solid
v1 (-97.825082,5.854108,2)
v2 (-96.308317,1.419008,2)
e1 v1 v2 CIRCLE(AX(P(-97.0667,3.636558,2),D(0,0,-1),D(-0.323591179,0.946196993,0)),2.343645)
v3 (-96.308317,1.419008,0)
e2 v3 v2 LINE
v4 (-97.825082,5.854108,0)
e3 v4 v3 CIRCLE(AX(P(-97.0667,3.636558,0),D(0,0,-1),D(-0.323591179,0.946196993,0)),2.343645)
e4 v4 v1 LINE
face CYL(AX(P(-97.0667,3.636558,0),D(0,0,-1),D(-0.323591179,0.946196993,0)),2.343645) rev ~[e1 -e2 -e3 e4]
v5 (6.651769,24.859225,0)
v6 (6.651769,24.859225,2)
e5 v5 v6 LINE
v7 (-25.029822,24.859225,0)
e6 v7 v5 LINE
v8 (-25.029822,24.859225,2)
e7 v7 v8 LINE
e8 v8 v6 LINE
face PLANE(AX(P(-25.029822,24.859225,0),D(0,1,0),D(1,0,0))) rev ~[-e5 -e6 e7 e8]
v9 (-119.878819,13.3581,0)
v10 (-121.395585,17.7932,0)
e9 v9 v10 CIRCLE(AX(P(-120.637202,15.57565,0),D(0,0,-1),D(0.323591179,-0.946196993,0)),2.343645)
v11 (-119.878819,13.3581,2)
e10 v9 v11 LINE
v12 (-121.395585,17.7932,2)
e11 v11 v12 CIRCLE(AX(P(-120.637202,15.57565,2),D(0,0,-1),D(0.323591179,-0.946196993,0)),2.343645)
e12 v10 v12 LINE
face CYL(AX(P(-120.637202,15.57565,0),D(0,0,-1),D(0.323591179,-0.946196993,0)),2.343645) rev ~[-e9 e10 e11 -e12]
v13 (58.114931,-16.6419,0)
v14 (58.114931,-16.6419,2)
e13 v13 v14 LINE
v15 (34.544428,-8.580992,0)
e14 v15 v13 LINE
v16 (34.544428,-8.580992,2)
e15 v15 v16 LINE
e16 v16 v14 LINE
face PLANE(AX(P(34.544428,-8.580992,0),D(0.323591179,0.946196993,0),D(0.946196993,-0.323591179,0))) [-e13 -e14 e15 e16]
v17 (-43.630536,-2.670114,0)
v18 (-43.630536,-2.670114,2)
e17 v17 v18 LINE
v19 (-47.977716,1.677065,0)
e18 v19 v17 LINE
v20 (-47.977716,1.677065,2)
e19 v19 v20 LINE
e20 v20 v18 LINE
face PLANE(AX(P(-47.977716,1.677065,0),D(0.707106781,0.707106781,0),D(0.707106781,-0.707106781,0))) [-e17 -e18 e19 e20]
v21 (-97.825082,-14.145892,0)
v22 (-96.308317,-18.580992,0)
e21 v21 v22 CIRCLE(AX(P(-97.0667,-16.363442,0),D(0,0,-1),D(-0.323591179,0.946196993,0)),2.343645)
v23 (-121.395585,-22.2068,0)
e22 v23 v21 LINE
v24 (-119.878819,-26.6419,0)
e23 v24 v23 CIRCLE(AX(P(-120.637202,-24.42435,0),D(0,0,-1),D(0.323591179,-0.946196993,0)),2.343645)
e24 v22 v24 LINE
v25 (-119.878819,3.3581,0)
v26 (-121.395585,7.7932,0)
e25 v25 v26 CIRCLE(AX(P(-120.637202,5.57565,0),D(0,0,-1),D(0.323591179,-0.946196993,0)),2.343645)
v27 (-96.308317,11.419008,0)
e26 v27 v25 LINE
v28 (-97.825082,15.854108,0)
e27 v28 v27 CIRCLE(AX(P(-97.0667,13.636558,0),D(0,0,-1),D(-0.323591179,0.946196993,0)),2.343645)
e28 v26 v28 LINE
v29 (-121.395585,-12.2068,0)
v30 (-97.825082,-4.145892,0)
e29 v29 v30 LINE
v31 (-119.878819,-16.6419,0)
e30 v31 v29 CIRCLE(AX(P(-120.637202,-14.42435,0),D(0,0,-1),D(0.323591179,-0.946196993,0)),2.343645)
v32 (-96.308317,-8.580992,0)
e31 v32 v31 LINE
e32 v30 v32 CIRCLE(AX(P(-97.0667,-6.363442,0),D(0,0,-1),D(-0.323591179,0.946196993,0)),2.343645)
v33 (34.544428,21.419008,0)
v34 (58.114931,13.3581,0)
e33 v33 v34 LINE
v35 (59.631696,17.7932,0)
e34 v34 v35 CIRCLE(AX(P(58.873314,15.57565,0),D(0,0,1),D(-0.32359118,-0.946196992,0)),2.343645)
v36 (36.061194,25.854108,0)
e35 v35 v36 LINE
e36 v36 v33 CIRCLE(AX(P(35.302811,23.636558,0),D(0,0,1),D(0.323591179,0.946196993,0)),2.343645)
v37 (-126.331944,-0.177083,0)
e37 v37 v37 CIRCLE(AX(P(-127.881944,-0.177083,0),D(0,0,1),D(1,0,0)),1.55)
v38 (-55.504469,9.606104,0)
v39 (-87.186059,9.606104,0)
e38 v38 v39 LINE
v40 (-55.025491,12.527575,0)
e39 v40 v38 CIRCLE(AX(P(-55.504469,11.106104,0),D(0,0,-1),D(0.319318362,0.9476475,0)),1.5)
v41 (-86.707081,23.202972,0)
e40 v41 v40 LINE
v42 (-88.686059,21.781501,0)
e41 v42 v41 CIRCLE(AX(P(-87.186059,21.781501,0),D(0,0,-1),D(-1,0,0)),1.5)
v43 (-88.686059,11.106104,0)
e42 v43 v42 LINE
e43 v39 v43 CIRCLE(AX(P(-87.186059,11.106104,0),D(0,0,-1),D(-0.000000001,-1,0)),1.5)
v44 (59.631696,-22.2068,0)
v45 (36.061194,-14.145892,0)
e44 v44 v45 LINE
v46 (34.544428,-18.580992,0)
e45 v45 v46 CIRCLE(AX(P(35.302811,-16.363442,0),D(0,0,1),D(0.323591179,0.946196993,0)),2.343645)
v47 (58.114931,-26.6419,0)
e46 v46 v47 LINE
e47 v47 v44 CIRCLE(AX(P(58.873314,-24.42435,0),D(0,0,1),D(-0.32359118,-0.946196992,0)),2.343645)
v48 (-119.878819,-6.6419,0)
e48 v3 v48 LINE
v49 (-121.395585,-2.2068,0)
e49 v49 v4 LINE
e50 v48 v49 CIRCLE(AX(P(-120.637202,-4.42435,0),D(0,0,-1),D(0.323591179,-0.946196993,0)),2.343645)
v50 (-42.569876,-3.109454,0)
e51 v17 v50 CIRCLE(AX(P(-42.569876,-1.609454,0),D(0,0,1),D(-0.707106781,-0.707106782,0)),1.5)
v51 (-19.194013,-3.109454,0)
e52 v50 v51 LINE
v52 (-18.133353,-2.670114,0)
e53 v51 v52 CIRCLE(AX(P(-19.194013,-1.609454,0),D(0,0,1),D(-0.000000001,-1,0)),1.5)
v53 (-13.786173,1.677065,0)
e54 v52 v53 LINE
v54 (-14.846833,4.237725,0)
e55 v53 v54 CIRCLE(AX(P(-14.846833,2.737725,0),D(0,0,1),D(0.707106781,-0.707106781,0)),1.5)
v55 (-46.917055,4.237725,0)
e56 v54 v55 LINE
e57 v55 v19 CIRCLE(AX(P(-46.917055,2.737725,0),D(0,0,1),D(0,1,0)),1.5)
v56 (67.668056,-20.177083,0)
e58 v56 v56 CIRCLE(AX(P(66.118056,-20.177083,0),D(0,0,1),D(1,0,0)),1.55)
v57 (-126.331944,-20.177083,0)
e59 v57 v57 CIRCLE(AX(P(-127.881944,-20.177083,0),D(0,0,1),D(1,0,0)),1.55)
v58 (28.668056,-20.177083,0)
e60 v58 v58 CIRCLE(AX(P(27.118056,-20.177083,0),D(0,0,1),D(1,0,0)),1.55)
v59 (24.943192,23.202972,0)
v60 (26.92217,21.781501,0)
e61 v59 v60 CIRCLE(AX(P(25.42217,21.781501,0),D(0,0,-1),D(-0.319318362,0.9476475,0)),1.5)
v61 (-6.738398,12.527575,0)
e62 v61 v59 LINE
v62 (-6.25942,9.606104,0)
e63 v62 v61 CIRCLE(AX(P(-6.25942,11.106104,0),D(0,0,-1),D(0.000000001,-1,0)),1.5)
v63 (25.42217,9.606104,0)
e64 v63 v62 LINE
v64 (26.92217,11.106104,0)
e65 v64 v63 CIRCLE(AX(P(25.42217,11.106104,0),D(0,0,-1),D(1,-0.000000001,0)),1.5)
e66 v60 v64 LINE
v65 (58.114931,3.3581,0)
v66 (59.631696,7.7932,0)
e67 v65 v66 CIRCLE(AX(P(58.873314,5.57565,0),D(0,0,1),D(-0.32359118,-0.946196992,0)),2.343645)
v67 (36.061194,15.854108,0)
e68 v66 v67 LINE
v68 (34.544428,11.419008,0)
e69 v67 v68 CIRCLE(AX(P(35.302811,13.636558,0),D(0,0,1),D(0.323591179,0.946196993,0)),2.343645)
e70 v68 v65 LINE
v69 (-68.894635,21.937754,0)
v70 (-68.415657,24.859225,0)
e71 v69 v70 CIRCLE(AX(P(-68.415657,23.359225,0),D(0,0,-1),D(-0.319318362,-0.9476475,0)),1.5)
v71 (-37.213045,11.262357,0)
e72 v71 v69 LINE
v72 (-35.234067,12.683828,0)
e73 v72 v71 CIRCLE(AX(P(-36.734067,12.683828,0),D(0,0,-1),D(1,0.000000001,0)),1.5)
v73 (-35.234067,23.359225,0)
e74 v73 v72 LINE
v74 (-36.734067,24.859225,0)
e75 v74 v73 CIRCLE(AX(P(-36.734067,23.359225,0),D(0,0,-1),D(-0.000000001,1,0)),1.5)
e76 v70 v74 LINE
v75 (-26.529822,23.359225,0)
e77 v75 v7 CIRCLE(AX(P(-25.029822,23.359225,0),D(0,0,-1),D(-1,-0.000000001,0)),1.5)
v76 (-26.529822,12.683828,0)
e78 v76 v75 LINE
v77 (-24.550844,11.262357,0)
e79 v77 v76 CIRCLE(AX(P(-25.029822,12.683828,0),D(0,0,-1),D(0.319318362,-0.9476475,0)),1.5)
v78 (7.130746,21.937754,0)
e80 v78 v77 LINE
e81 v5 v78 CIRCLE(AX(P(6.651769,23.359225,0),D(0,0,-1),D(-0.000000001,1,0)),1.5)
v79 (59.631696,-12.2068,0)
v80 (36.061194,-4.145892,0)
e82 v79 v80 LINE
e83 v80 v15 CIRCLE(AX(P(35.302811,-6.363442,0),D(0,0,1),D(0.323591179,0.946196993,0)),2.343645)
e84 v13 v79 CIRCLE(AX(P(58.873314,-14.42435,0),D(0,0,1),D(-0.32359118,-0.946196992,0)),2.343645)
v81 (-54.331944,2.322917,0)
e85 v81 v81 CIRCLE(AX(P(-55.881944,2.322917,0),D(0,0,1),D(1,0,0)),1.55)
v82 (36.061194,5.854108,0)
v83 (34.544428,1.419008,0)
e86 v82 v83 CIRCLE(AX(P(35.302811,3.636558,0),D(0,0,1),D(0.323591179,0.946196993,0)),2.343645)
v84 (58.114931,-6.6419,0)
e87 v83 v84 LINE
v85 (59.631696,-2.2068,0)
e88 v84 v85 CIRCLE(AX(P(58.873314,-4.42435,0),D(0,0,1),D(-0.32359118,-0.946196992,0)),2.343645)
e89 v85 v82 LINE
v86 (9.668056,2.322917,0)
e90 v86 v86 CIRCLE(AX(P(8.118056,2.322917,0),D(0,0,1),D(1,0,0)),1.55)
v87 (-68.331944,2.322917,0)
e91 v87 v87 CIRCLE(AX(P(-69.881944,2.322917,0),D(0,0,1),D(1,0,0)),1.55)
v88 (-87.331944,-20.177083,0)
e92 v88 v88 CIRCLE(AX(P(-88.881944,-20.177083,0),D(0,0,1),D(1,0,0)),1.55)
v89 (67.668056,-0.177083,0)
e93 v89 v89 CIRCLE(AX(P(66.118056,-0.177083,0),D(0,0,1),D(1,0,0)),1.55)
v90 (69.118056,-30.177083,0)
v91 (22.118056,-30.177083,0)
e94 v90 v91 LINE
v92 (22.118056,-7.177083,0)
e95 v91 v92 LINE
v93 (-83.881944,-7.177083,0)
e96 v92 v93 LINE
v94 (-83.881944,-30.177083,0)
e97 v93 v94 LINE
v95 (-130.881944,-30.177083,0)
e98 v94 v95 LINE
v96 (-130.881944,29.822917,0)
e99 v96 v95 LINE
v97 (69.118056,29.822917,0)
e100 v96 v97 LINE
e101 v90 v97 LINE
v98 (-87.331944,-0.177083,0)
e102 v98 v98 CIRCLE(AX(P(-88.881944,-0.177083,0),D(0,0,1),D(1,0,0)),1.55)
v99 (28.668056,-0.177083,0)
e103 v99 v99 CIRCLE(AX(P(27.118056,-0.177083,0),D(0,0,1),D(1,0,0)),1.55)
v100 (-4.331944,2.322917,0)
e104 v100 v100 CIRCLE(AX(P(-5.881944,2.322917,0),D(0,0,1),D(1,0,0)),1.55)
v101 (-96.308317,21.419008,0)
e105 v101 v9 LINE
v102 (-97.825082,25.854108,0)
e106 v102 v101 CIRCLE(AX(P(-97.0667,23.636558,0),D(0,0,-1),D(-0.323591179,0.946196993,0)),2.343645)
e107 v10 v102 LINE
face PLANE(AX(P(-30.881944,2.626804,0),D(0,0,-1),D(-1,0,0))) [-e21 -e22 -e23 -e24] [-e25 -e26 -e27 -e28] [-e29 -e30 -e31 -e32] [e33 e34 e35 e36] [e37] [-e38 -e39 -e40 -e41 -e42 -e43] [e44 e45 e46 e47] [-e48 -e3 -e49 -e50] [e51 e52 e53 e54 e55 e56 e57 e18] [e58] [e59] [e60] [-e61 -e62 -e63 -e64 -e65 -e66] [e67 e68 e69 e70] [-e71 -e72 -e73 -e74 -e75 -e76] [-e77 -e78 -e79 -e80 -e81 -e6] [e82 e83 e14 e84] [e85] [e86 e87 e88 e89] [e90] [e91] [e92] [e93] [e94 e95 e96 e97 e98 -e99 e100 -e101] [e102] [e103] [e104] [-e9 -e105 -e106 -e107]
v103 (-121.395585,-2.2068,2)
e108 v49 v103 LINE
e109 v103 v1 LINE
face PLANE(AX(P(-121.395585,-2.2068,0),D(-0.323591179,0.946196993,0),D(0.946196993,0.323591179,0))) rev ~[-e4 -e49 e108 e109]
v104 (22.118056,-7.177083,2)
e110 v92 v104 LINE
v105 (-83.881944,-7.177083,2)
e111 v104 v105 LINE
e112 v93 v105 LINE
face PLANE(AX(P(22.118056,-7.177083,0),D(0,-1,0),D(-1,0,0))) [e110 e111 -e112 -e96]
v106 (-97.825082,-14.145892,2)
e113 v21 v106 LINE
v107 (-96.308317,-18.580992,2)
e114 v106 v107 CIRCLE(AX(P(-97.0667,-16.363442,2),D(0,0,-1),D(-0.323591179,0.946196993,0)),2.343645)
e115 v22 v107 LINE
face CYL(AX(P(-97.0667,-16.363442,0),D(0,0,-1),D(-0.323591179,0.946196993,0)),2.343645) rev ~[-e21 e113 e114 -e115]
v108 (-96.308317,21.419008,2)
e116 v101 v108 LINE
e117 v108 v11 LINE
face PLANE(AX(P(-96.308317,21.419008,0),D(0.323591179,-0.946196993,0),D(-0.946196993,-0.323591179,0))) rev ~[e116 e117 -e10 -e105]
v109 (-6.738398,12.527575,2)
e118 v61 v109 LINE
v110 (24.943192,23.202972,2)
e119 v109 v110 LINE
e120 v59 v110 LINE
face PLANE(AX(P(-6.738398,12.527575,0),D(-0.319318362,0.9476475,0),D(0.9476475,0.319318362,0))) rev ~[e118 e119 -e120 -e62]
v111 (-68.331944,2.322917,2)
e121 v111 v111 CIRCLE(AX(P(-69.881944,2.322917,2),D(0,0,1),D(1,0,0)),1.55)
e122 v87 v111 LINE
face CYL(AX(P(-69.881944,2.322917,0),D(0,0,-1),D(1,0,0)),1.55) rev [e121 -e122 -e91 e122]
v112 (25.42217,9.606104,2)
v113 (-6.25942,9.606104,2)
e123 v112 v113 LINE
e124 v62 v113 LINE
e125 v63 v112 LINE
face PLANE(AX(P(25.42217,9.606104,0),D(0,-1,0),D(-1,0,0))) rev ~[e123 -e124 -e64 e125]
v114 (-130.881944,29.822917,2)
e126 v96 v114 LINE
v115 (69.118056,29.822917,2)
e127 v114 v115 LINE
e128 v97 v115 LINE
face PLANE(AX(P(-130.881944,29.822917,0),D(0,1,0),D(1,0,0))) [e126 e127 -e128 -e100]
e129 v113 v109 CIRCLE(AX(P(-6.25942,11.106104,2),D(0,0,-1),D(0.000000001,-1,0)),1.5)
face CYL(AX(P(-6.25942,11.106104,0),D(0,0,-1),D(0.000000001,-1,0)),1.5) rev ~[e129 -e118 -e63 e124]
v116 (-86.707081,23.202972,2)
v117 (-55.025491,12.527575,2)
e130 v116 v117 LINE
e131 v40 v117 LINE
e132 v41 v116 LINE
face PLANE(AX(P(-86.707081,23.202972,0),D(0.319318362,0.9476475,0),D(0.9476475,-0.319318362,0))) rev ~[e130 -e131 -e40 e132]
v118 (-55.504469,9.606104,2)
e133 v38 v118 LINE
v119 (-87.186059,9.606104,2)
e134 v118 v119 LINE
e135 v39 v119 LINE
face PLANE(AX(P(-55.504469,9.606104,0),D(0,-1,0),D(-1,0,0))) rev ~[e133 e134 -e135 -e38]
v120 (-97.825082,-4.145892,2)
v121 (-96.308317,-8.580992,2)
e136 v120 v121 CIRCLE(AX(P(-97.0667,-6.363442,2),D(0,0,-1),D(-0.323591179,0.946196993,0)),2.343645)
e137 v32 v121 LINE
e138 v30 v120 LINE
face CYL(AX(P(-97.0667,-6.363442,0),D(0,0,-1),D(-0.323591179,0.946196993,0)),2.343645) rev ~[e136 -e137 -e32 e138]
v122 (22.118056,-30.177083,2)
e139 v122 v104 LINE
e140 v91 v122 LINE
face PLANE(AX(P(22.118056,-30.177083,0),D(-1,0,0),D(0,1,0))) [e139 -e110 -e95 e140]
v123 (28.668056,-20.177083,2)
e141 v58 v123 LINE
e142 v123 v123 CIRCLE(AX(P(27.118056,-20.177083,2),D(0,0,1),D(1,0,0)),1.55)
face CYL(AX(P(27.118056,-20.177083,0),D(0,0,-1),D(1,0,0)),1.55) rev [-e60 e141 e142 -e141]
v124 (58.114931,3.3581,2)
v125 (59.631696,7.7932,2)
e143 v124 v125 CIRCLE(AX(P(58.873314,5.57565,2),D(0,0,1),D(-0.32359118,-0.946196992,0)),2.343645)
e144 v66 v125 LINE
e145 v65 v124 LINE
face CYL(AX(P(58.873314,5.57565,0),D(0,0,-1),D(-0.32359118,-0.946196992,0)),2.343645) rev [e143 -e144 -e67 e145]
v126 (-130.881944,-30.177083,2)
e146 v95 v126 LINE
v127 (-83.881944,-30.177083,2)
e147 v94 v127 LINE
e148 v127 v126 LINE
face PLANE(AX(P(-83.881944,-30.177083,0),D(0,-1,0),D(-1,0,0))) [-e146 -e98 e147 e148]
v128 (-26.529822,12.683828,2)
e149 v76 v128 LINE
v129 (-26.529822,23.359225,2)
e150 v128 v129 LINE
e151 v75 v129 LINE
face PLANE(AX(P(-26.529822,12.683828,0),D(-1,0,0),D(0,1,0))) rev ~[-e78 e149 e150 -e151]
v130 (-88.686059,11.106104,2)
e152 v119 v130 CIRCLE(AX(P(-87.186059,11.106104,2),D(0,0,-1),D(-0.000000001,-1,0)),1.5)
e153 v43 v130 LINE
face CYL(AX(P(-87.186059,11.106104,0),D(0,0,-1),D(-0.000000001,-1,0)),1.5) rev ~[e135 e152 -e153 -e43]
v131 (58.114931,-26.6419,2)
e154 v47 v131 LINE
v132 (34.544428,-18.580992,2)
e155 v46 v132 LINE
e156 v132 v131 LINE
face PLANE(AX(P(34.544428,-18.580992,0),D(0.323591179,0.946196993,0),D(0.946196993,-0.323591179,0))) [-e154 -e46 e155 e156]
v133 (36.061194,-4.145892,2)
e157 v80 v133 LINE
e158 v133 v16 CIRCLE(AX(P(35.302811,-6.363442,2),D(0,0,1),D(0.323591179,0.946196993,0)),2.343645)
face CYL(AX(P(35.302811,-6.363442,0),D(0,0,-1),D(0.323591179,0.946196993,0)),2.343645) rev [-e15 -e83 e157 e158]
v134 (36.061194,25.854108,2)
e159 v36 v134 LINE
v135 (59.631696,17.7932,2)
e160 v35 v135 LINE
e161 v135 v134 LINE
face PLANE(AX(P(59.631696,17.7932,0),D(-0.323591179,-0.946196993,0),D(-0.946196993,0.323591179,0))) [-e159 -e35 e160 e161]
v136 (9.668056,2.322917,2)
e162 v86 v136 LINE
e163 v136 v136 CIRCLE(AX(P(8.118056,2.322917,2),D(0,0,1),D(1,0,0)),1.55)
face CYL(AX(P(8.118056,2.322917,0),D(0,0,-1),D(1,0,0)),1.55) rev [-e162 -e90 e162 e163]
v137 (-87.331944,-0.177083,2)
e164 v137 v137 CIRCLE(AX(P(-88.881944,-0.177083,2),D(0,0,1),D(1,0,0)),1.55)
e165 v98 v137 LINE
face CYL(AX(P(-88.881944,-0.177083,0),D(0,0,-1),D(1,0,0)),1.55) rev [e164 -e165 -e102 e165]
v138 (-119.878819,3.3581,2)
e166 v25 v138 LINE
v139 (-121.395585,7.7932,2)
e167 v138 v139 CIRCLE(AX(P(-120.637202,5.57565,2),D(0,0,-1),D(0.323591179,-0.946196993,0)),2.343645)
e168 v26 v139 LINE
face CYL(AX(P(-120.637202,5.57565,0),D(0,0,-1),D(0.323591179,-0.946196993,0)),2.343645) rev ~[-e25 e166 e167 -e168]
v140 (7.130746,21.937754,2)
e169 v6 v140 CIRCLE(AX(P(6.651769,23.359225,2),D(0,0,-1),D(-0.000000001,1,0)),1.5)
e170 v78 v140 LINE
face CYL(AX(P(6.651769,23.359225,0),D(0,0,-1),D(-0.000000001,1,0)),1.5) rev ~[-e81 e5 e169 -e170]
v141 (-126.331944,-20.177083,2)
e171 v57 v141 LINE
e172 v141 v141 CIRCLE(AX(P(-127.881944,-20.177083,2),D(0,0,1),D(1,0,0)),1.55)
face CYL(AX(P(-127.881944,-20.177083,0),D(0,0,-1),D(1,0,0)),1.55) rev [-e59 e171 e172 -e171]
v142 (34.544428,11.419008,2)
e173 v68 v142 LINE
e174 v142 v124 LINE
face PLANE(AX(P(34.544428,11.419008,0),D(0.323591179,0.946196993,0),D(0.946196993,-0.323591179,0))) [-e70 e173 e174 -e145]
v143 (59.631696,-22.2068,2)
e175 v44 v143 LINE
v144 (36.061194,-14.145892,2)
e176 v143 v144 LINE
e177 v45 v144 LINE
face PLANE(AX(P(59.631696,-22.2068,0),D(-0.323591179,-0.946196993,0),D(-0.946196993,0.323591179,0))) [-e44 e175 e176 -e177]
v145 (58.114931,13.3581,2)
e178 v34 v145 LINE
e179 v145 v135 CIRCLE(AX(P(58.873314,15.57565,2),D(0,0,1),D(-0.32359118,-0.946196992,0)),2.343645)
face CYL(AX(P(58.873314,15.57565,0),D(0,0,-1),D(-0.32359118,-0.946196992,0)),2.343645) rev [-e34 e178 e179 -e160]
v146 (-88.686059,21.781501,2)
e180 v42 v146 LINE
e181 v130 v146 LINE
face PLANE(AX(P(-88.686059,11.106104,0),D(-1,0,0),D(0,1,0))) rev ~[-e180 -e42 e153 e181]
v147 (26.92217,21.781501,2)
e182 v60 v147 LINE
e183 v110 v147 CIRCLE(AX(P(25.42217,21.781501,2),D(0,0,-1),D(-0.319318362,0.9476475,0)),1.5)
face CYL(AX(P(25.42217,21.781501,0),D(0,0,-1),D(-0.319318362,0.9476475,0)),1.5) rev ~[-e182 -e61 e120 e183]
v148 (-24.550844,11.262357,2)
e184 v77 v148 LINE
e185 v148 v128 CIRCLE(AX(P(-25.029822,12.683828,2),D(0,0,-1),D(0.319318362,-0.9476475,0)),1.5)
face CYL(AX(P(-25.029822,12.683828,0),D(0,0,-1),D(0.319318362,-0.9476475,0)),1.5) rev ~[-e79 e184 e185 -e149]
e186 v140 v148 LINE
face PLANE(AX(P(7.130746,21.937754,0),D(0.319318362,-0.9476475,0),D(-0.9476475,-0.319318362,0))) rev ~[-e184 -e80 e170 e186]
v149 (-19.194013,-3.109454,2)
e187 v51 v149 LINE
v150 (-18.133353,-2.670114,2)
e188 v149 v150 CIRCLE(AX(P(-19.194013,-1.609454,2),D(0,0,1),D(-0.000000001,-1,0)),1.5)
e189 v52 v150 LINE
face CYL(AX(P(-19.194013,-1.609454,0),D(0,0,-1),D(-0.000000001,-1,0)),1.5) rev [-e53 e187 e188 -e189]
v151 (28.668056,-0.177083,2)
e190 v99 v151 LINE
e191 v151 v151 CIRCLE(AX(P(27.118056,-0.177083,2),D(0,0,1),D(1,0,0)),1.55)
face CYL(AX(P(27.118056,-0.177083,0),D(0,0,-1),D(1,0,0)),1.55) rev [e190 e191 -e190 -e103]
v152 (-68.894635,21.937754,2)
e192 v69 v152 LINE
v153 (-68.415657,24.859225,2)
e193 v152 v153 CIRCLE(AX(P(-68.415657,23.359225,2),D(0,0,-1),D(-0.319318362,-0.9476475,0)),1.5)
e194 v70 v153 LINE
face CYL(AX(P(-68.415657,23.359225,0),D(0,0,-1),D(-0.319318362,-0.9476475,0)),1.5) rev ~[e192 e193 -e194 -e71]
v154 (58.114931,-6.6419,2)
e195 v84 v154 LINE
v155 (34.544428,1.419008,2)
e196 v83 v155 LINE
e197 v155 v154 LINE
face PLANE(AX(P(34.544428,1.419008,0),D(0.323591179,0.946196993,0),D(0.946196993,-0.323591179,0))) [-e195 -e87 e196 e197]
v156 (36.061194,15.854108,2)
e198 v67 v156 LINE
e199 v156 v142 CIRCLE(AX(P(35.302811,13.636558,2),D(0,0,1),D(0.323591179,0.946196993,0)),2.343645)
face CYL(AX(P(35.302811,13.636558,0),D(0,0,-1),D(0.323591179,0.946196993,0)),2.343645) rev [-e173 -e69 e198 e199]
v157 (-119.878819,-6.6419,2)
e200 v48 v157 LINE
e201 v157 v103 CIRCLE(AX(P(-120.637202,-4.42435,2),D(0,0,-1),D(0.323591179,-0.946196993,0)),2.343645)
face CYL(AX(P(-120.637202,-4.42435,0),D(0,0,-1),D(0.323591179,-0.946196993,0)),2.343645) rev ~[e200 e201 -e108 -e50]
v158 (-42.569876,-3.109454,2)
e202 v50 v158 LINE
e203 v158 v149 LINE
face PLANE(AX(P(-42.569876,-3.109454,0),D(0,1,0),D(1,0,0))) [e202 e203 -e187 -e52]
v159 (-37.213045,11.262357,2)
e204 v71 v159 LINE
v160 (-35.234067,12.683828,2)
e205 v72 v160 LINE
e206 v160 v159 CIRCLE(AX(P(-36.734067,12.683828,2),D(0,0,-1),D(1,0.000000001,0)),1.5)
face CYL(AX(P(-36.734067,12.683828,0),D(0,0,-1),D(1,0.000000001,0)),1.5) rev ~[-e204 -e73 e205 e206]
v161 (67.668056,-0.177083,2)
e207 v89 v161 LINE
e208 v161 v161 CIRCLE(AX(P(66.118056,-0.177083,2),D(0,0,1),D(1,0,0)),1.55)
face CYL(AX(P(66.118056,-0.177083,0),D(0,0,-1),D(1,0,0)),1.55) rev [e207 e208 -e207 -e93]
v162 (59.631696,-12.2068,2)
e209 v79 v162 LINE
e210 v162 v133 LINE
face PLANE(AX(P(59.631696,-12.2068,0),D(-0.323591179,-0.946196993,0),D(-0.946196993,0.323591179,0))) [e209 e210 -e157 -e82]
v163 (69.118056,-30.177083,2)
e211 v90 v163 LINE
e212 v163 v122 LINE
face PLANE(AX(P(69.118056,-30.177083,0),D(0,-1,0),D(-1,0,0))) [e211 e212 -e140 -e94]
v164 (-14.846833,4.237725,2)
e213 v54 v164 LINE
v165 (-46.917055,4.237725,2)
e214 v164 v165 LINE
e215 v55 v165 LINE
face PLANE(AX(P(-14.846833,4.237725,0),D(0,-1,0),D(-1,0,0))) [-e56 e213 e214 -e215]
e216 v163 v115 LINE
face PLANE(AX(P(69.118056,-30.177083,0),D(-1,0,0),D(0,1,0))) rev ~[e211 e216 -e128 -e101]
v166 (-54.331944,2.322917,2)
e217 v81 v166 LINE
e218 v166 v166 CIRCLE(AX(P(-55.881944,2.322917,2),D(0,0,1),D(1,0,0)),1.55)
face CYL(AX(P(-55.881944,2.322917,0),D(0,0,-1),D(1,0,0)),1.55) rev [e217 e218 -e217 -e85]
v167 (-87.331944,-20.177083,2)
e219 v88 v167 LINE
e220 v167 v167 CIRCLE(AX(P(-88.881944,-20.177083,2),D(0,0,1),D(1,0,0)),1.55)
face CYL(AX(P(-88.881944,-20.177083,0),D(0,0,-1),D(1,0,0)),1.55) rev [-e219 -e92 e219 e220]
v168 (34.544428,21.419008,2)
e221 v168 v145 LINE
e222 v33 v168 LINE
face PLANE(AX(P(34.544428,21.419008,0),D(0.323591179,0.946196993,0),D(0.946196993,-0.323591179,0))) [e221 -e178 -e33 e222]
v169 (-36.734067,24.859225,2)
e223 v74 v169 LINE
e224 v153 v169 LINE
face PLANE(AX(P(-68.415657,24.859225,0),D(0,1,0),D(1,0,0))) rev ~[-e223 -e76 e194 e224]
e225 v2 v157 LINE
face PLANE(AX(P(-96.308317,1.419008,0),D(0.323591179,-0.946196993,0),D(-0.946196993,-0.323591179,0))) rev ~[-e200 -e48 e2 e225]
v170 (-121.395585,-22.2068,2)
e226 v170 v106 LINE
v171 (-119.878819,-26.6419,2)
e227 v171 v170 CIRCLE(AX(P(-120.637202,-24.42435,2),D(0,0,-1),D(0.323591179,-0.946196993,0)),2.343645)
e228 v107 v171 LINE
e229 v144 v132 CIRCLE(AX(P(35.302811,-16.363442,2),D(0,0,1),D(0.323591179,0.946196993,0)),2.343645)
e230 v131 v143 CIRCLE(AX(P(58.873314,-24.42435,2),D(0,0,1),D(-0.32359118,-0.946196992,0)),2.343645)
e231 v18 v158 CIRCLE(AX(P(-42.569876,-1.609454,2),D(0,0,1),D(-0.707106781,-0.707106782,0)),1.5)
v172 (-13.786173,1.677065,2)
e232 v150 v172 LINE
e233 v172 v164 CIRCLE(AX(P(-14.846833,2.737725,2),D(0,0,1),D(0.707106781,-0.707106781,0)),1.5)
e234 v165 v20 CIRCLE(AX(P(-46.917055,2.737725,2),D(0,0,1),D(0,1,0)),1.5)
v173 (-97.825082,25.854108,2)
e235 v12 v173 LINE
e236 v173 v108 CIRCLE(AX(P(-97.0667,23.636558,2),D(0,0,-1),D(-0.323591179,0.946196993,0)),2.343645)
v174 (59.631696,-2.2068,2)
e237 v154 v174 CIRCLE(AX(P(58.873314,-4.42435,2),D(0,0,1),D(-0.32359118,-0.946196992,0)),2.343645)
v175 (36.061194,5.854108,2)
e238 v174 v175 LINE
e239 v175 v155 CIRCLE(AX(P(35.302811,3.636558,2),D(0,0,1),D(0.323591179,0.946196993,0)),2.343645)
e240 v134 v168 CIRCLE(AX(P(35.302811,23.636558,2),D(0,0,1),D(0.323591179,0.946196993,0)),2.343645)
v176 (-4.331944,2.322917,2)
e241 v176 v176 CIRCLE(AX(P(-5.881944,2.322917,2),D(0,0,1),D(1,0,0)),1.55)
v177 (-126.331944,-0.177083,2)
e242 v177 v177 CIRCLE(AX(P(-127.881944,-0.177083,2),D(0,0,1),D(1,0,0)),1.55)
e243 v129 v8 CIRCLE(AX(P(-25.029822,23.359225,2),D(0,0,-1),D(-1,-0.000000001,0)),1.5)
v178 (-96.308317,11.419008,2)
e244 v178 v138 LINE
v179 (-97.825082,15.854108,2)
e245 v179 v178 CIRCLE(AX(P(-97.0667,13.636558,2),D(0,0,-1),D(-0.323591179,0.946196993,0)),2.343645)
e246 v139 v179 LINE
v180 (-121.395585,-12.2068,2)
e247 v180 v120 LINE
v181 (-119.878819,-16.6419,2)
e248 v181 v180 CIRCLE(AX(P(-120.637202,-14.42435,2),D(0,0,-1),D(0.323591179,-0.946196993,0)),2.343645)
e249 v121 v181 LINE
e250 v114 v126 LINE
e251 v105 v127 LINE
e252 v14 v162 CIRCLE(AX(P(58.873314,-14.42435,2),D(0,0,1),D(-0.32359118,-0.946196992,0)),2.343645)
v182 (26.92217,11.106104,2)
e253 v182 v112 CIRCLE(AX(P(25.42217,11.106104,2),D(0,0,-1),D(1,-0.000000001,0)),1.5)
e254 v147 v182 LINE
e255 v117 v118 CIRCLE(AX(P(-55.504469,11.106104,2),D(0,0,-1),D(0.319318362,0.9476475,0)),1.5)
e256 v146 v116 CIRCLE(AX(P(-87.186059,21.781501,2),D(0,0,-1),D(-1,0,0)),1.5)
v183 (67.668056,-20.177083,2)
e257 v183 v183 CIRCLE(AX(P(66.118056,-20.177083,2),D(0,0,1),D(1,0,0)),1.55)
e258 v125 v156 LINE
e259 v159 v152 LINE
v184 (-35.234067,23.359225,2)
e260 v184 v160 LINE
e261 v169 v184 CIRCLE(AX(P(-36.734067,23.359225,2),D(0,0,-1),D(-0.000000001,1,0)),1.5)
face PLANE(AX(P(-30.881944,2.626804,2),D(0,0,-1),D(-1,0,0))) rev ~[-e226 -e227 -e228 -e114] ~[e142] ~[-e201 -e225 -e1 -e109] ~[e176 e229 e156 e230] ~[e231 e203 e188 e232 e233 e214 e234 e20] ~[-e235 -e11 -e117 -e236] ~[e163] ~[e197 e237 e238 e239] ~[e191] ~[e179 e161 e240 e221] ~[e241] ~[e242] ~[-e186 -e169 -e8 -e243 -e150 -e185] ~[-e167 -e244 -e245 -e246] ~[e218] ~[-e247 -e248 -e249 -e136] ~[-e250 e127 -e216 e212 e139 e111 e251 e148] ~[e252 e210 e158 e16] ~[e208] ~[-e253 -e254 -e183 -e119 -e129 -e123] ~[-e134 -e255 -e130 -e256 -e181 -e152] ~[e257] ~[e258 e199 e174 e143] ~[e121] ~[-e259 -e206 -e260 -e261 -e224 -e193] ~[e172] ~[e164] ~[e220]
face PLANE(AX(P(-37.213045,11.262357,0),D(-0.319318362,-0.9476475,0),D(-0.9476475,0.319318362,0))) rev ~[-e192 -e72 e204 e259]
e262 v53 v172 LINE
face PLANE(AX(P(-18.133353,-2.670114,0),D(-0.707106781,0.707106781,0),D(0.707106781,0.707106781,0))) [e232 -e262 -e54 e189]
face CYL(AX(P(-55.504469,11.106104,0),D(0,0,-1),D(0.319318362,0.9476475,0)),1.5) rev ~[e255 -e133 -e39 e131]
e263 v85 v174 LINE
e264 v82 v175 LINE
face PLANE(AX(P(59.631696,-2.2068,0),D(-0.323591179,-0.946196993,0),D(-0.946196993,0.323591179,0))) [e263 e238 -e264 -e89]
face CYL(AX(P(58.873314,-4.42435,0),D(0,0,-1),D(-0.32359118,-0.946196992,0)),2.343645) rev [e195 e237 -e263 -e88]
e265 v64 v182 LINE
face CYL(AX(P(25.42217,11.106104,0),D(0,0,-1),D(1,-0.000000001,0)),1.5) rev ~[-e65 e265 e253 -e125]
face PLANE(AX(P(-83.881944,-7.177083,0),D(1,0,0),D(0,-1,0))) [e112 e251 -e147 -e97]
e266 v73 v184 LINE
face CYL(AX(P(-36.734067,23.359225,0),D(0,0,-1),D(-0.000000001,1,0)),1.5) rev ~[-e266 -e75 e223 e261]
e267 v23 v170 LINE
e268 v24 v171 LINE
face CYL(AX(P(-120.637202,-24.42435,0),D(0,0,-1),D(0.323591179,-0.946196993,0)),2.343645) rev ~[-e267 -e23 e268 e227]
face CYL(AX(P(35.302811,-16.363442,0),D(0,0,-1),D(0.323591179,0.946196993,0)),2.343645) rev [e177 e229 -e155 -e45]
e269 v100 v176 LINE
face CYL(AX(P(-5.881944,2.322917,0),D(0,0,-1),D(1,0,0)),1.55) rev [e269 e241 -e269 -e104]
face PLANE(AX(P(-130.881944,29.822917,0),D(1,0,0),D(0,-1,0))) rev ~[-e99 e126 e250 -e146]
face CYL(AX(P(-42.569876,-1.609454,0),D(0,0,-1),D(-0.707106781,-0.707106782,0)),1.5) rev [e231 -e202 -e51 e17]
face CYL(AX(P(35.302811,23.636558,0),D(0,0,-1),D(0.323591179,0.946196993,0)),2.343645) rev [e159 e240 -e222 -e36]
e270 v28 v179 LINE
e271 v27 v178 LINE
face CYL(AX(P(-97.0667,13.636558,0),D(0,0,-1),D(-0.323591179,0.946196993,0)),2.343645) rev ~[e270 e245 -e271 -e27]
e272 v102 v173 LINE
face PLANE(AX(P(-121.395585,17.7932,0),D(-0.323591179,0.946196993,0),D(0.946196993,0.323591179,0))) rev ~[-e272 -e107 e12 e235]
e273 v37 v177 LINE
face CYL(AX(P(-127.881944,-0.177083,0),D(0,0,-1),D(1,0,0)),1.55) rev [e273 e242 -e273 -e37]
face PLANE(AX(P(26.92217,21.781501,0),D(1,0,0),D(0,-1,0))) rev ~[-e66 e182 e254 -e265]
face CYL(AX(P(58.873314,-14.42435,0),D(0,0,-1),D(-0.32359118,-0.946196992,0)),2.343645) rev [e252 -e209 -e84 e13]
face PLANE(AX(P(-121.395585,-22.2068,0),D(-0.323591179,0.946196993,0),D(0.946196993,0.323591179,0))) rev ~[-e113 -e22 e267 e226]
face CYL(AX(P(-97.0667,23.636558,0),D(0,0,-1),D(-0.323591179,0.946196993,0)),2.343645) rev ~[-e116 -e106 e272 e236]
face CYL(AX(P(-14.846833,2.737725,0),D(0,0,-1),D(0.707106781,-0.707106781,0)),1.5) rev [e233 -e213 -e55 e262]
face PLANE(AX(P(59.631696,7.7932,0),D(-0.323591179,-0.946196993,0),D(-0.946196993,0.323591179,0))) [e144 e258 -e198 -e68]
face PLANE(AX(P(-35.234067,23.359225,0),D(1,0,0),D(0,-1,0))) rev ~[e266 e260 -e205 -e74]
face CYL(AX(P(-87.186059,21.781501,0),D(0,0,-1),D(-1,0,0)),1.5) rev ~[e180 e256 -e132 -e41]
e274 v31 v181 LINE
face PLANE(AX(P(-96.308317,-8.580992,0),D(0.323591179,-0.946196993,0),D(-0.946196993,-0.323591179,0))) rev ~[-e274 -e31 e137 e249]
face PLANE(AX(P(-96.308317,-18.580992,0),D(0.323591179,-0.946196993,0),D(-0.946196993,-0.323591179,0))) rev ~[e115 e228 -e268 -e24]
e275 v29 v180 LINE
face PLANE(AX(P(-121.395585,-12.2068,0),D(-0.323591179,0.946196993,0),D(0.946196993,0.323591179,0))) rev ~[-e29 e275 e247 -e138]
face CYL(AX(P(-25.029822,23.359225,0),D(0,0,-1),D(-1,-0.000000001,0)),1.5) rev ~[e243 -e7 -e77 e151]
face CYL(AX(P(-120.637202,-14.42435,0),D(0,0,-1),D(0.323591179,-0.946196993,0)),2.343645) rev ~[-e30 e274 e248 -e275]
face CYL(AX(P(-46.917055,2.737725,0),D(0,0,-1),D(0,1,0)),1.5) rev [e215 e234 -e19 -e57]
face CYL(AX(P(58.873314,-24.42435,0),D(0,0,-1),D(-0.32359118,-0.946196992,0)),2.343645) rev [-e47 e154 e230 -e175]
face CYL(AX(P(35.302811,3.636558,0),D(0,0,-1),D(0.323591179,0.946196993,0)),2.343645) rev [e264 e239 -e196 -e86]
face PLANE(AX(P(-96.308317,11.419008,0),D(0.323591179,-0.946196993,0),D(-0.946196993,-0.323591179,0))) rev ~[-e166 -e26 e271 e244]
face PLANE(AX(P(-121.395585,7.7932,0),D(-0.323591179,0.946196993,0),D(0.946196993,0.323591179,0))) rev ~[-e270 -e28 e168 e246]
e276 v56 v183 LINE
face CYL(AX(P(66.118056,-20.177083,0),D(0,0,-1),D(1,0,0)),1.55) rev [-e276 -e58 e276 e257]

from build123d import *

# Parameters (mm, degrees)
SKETCH_1_R      = 1.55
EXTRUDE_1_DEPTH = 2


with BuildPart() as part:
    # 草图1 → 凸台-拉伸1 (new body)
    with BuildSketch(Plane.XY):
        Polygon((69.118055556, 5.822916667), (69.118055556, -30.177083333), (22.118055556, -30.177083333), (22.118055556, -7.177083333), (-83.881944444, -7.177083333), (-83.881944444, -30.177083333), (-130.881944444, -30.177083333), (-130.881944444, 5.822916667), (-130.881944444, 29.822916667), (69.118055556, 29.822916667), align=None)
        with Locations((-127.881944444, -0.177083333)):
            Circle(SKETCH_1_R, mode=Mode.SUBTRACT)
        with Locations((-127.881944444, -20.177083333)):
            Circle(SKETCH_1_R, mode=Mode.SUBTRACT)
        with Locations((-88.881944444, -0.177083333)):
            Circle(SKETCH_1_R, mode=Mode.SUBTRACT)
        with Locations((-88.881944444, -20.177083333)):
            Circle(SKETCH_1_R, mode=Mode.SUBTRACT)
        with Locations((27.118055556, -0.177083333)):
            Circle(SKETCH_1_R, mode=Mode.SUBTRACT)
        with Locations((27.118055556, -20.177083333)):
            Circle(SKETCH_1_R, mode=Mode.SUBTRACT)
        with Locations((66.118055556, -0.177083333)):
            Circle(SKETCH_1_R, mode=Mode.SUBTRACT)
        with Locations((66.118055556, -20.177083333)):
            Circle(SKETCH_1_R, mode=Mode.SUBTRACT)
        with Locations((-69.881944444, 2.322916667)):
            Circle(SKETCH_1_R, mode=Mode.SUBTRACT)
        with Locations((-55.881944444, 2.322916667)):
            Circle(SKETCH_1_R, mode=Mode.SUBTRACT)
        with Locations((-5.881944444, 2.322916667)):
            Circle(SKETCH_1_R, mode=Mode.SUBTRACT)
        with Locations((8.118055556, 2.322916667)):
            Circle(SKETCH_1_R, mode=Mode.SUBTRACT)
        with BuildLine():
            Line((-96.308316621, 21.419007892), (-119.878819488, 13.358099985))
            ThreePointArc((-119.878819488, 13.358099985), (-122.854752457, 14.817267118), (-121.395585324, 17.793200088))
            Line((-121.395585324, 17.793200088), (-97.825082457, 25.854107995))
            ThreePointArc((-97.825082457, 25.854107995), (-94.849149487, 24.394940861), (-96.308316621, 21.419007892))
        make_face(mode=Mode.SUBTRACT)
        with BuildLine():
            Line((-96.308316621, 11.419007892), (-119.878819488, 3.358099985))
            ThreePointArc((-119.878819488, 3.358099985), (-122.854752457, 4.817267118), (-121.395585324, 7.793200088))
            Line((-121.395585324, 7.793200088), (-97.825082457, 15.854107995))
            ThreePointArc((-97.825082457, 15.854107995), (-94.849149487, 14.394940861), (-96.308316621, 11.419007892))
        make_face(mode=Mode.SUBTRACT)
        with BuildLine():
            Line((-96.308316621, 1.419007892), (-119.878819488, -6.641900015))
            ThreePointArc((-119.878819488, -6.641900015), (-122.854752457, -5.182732882), (-121.395585324, -2.206799912))
            Line((-121.395585324, -2.206799912), (-97.825082457, 5.854107995))
            ThreePointArc((-97.825082457, 5.854107995), (-94.849149487, 4.394940861), (-96.308316621, 1.419007892))
        make_face(mode=Mode.SUBTRACT)
        with BuildLine():
            Line((-96.308316621, -8.580992108), (-119.878819488, -16.641900015))
            ThreePointArc((-119.878819488, -16.641900015), (-122.854752457, -15.182732882), (-121.395585324, -12.206799912))
            Line((-121.395585324, -12.206799912), (-97.825082457, -4.145892005))
            ThreePointArc((-97.825082457, -4.145892005), (-94.849149487, -5.605059139), (-96.308316621, -8.580992108))
        make_face(mode=Mode.SUBTRACT)
        with BuildLine():
            Line((-96.308316621, -18.580992108), (-119.878819488, -26.641900015))
            ThreePointArc((-119.878819488, -26.641900015), (-122.854752457, -25.182732882), (-121.395585324, -22.206799912))
            Line((-121.395585324, -22.206799912), (-97.825082457, -14.145892005))
            ThreePointArc((-97.825082457, -14.145892005), (-94.849149487, -15.605059139), (-96.308316621, -18.580992108))
        make_face(mode=Mode.SUBTRACT)
        with BuildLine():
            Line((34.544427732, -18.580992108), (58.114930599, -26.641900015))
            ThreePointArc((58.114930599, -26.641900015), (61.090863569, -25.182732882), (59.631696435, -22.206799912))
            Line((59.631696435, -22.206799912), (36.061193568, -14.145892005))
            ThreePointArc((36.061193568, -14.145892005), (33.085260599, -15.605059139), (34.544427732, -18.580992108))
        make_face(mode=Mode.SUBTRACT)
        with BuildLine():
            Line((34.544427732, -8.580992108), (58.114930599, -16.641900015))
            ThreePointArc((58.114930599, -16.641900015), (61.090863569, -15.182732882), (59.631696435, -12.206799912))
            Line((59.631696435, -12.206799912), (36.061193568, -4.145892005))
            ThreePointArc((36.061193568, -4.145892005), (33.085260599, -5.605059139), (34.544427732, -8.580992108))
        make_face(mode=Mode.SUBTRACT)
        with BuildLine():
            Line((34.544427732, 1.419007892), (58.114930599, -6.641900015))
            ThreePointArc((58.114930599, -6.641900015), (61.090863569, -5.182732882), (59.631696435, -2.206799912))
            Line((59.631696435, -2.206799912), (36.061193568, 5.854107995))
            ThreePointArc((36.061193568, 5.854107995), (33.085260599, 4.394940861), (34.544427732, 1.419007892))
        make_face(mode=Mode.SUBTRACT)
        with BuildLine():
            Line((34.544427732, 11.419007892), (58.114930599, 3.358099985))
            ThreePointArc((58.114930599, 3.358099985), (61.090863569, 4.817267118), (59.631696435, 7.793200088))
            Line((59.631696435, 7.793200088), (36.061193568, 15.854107995))
            ThreePointArc((36.061193568, 15.854107995), (33.085260599, 14.394940861), (34.544427732, 11.419007892))
        make_face(mode=Mode.SUBTRACT)
        with BuildLine():
            Line((34.544427732, 21.419007892), (58.114930599, 13.358099985))
            ThreePointArc((58.114930599, 13.358099985), (61.090863569, 14.817267118), (59.631696435, 17.793200088))
            Line((59.631696435, 17.793200088), (36.061193568, 25.854107995))
            ThreePointArc((36.061193568, 25.854107995), (33.085260599, 24.394940861), (34.544427732, 21.419007892))
        make_face(mode=Mode.SUBTRACT)
        with BuildLine():
            Line((-86.707081272, 23.202972479), (-55.025491003, 12.527575239))
            ThreePointArc((-55.025491003, 12.527575239), (-54.024230917, 10.863417849), (-55.504468546, 9.60610399))
            Line((-55.504468546, 9.60610399), (-87.186058815, 9.60610399))
            ThreePointArc((-87.186058815, 9.60610399), (-88.246718986, 10.045443818), (-88.686058815, 11.10610399))
            Line((-88.686058815, 11.10610399), (-88.686058815, 21.781501229))
            ThreePointArc((-88.686058815, 21.781501229), (-88.061139864, 22.99979231), (-86.707081272, 23.202972479))
        make_face(mode=Mode.SUBTRACT)
        with BuildLine():
            Line((-68.415657461, 24.859225404), (-36.734067193, 24.859225404))
            ThreePointArc((-36.734067193, 24.859225404), (-35.673407021, 24.419885576), (-35.234067193, 23.359225404))
            Line((-35.234067193, 23.359225404), (-35.234067193, 12.683828165))
            ThreePointArc((-35.234067193, 12.683828165), (-35.858986143, 11.465537084), (-37.213044735, 11.262356915))
            Line((-37.213044735, 11.262356915), (-68.894635004, 21.937754155))
            ThreePointArc((-68.894635004, 21.937754155), (-69.89589509, 23.601911545), (-68.415657461, 24.859225404))
        make_face(mode=Mode.SUBTRACT)
        with BuildLine():
            Line((26.922169926, 21.781501229), (26.922169926, 11.10610399))
            ThreePointArc((26.922169926, 11.10610399), (26.482830097, 10.045443818), (25.422169926, 9.60610399))
            Line((25.422169926, 9.60610399), (-6.259420343, 9.60610399))
            ThreePointArc((-6.259420343, 9.60610399), (-7.739657972, 10.863417849), (-6.738397886, 12.527575239))
            Line((-6.738397886, 12.527575239), (24.943192383, 23.202972479))
            ThreePointArc((24.943192383, 23.202972479), (26.297250975, 22.99979231), (26.922169926, 21.781501229))
        make_face(mode=Mode.SUBTRACT)
        with BuildLine():
            Line((7.130746115, 21.937754155), (-24.550844154, 11.262356915))
            ThreePointArc((-24.550844154, 11.262356915), (-25.904902746, 11.465537084), (-26.529821696, 12.683828165))
            Line((-26.529821696, 12.683828165), (-26.529821696, 23.359225404))
            ThreePointArc((-26.529821696, 23.359225404), (-26.090481868, 24.419885576), (-25.029821696, 24.859225404))
            Line((-25.029821696, 24.859225404), (6.651768572, 24.859225404))
            ThreePointArc((6.651768572, 24.859225404), (8.132006201, 23.601911545), (7.130746115, 21.937754155))
        make_face(mode=Mode.SUBTRACT)
        with BuildLine():
            Line((-14.846833492, 4.237725323), (-46.917055397, 4.237725323))
            ThreePointArc((-46.917055397, 4.237725323), (-48.302874696, 3.311750471), (-47.977715569, 1.677065151))
            Line((-47.977715569, 1.677065151), (-43.630536244, -2.670114174))
            ThreePointArc((-43.630536244, -2.670114174), (-43.14390122, -2.995273301), (-42.569876072, -3.109454002))
            Line((-42.569876072, -3.109454002), (-19.194012817, -3.109454002))
            ThreePointArc((-19.194012817, -3.109454002), (-18.619987668, -2.995273301), (-18.133352645, -2.670114174))
            Line((-18.133352645, -2.670114174), (-13.78617332, 1.677065151))
            ThreePointArc((-13.78617332, 1.677065151), (-13.461014193, 3.311750471), (-14.846833492, 4.237725323))
        make_face(mode=Mode.SUBTRACT)
    extrude(amount=EXTRUDE_1_DEPTH)


solid = part.part
